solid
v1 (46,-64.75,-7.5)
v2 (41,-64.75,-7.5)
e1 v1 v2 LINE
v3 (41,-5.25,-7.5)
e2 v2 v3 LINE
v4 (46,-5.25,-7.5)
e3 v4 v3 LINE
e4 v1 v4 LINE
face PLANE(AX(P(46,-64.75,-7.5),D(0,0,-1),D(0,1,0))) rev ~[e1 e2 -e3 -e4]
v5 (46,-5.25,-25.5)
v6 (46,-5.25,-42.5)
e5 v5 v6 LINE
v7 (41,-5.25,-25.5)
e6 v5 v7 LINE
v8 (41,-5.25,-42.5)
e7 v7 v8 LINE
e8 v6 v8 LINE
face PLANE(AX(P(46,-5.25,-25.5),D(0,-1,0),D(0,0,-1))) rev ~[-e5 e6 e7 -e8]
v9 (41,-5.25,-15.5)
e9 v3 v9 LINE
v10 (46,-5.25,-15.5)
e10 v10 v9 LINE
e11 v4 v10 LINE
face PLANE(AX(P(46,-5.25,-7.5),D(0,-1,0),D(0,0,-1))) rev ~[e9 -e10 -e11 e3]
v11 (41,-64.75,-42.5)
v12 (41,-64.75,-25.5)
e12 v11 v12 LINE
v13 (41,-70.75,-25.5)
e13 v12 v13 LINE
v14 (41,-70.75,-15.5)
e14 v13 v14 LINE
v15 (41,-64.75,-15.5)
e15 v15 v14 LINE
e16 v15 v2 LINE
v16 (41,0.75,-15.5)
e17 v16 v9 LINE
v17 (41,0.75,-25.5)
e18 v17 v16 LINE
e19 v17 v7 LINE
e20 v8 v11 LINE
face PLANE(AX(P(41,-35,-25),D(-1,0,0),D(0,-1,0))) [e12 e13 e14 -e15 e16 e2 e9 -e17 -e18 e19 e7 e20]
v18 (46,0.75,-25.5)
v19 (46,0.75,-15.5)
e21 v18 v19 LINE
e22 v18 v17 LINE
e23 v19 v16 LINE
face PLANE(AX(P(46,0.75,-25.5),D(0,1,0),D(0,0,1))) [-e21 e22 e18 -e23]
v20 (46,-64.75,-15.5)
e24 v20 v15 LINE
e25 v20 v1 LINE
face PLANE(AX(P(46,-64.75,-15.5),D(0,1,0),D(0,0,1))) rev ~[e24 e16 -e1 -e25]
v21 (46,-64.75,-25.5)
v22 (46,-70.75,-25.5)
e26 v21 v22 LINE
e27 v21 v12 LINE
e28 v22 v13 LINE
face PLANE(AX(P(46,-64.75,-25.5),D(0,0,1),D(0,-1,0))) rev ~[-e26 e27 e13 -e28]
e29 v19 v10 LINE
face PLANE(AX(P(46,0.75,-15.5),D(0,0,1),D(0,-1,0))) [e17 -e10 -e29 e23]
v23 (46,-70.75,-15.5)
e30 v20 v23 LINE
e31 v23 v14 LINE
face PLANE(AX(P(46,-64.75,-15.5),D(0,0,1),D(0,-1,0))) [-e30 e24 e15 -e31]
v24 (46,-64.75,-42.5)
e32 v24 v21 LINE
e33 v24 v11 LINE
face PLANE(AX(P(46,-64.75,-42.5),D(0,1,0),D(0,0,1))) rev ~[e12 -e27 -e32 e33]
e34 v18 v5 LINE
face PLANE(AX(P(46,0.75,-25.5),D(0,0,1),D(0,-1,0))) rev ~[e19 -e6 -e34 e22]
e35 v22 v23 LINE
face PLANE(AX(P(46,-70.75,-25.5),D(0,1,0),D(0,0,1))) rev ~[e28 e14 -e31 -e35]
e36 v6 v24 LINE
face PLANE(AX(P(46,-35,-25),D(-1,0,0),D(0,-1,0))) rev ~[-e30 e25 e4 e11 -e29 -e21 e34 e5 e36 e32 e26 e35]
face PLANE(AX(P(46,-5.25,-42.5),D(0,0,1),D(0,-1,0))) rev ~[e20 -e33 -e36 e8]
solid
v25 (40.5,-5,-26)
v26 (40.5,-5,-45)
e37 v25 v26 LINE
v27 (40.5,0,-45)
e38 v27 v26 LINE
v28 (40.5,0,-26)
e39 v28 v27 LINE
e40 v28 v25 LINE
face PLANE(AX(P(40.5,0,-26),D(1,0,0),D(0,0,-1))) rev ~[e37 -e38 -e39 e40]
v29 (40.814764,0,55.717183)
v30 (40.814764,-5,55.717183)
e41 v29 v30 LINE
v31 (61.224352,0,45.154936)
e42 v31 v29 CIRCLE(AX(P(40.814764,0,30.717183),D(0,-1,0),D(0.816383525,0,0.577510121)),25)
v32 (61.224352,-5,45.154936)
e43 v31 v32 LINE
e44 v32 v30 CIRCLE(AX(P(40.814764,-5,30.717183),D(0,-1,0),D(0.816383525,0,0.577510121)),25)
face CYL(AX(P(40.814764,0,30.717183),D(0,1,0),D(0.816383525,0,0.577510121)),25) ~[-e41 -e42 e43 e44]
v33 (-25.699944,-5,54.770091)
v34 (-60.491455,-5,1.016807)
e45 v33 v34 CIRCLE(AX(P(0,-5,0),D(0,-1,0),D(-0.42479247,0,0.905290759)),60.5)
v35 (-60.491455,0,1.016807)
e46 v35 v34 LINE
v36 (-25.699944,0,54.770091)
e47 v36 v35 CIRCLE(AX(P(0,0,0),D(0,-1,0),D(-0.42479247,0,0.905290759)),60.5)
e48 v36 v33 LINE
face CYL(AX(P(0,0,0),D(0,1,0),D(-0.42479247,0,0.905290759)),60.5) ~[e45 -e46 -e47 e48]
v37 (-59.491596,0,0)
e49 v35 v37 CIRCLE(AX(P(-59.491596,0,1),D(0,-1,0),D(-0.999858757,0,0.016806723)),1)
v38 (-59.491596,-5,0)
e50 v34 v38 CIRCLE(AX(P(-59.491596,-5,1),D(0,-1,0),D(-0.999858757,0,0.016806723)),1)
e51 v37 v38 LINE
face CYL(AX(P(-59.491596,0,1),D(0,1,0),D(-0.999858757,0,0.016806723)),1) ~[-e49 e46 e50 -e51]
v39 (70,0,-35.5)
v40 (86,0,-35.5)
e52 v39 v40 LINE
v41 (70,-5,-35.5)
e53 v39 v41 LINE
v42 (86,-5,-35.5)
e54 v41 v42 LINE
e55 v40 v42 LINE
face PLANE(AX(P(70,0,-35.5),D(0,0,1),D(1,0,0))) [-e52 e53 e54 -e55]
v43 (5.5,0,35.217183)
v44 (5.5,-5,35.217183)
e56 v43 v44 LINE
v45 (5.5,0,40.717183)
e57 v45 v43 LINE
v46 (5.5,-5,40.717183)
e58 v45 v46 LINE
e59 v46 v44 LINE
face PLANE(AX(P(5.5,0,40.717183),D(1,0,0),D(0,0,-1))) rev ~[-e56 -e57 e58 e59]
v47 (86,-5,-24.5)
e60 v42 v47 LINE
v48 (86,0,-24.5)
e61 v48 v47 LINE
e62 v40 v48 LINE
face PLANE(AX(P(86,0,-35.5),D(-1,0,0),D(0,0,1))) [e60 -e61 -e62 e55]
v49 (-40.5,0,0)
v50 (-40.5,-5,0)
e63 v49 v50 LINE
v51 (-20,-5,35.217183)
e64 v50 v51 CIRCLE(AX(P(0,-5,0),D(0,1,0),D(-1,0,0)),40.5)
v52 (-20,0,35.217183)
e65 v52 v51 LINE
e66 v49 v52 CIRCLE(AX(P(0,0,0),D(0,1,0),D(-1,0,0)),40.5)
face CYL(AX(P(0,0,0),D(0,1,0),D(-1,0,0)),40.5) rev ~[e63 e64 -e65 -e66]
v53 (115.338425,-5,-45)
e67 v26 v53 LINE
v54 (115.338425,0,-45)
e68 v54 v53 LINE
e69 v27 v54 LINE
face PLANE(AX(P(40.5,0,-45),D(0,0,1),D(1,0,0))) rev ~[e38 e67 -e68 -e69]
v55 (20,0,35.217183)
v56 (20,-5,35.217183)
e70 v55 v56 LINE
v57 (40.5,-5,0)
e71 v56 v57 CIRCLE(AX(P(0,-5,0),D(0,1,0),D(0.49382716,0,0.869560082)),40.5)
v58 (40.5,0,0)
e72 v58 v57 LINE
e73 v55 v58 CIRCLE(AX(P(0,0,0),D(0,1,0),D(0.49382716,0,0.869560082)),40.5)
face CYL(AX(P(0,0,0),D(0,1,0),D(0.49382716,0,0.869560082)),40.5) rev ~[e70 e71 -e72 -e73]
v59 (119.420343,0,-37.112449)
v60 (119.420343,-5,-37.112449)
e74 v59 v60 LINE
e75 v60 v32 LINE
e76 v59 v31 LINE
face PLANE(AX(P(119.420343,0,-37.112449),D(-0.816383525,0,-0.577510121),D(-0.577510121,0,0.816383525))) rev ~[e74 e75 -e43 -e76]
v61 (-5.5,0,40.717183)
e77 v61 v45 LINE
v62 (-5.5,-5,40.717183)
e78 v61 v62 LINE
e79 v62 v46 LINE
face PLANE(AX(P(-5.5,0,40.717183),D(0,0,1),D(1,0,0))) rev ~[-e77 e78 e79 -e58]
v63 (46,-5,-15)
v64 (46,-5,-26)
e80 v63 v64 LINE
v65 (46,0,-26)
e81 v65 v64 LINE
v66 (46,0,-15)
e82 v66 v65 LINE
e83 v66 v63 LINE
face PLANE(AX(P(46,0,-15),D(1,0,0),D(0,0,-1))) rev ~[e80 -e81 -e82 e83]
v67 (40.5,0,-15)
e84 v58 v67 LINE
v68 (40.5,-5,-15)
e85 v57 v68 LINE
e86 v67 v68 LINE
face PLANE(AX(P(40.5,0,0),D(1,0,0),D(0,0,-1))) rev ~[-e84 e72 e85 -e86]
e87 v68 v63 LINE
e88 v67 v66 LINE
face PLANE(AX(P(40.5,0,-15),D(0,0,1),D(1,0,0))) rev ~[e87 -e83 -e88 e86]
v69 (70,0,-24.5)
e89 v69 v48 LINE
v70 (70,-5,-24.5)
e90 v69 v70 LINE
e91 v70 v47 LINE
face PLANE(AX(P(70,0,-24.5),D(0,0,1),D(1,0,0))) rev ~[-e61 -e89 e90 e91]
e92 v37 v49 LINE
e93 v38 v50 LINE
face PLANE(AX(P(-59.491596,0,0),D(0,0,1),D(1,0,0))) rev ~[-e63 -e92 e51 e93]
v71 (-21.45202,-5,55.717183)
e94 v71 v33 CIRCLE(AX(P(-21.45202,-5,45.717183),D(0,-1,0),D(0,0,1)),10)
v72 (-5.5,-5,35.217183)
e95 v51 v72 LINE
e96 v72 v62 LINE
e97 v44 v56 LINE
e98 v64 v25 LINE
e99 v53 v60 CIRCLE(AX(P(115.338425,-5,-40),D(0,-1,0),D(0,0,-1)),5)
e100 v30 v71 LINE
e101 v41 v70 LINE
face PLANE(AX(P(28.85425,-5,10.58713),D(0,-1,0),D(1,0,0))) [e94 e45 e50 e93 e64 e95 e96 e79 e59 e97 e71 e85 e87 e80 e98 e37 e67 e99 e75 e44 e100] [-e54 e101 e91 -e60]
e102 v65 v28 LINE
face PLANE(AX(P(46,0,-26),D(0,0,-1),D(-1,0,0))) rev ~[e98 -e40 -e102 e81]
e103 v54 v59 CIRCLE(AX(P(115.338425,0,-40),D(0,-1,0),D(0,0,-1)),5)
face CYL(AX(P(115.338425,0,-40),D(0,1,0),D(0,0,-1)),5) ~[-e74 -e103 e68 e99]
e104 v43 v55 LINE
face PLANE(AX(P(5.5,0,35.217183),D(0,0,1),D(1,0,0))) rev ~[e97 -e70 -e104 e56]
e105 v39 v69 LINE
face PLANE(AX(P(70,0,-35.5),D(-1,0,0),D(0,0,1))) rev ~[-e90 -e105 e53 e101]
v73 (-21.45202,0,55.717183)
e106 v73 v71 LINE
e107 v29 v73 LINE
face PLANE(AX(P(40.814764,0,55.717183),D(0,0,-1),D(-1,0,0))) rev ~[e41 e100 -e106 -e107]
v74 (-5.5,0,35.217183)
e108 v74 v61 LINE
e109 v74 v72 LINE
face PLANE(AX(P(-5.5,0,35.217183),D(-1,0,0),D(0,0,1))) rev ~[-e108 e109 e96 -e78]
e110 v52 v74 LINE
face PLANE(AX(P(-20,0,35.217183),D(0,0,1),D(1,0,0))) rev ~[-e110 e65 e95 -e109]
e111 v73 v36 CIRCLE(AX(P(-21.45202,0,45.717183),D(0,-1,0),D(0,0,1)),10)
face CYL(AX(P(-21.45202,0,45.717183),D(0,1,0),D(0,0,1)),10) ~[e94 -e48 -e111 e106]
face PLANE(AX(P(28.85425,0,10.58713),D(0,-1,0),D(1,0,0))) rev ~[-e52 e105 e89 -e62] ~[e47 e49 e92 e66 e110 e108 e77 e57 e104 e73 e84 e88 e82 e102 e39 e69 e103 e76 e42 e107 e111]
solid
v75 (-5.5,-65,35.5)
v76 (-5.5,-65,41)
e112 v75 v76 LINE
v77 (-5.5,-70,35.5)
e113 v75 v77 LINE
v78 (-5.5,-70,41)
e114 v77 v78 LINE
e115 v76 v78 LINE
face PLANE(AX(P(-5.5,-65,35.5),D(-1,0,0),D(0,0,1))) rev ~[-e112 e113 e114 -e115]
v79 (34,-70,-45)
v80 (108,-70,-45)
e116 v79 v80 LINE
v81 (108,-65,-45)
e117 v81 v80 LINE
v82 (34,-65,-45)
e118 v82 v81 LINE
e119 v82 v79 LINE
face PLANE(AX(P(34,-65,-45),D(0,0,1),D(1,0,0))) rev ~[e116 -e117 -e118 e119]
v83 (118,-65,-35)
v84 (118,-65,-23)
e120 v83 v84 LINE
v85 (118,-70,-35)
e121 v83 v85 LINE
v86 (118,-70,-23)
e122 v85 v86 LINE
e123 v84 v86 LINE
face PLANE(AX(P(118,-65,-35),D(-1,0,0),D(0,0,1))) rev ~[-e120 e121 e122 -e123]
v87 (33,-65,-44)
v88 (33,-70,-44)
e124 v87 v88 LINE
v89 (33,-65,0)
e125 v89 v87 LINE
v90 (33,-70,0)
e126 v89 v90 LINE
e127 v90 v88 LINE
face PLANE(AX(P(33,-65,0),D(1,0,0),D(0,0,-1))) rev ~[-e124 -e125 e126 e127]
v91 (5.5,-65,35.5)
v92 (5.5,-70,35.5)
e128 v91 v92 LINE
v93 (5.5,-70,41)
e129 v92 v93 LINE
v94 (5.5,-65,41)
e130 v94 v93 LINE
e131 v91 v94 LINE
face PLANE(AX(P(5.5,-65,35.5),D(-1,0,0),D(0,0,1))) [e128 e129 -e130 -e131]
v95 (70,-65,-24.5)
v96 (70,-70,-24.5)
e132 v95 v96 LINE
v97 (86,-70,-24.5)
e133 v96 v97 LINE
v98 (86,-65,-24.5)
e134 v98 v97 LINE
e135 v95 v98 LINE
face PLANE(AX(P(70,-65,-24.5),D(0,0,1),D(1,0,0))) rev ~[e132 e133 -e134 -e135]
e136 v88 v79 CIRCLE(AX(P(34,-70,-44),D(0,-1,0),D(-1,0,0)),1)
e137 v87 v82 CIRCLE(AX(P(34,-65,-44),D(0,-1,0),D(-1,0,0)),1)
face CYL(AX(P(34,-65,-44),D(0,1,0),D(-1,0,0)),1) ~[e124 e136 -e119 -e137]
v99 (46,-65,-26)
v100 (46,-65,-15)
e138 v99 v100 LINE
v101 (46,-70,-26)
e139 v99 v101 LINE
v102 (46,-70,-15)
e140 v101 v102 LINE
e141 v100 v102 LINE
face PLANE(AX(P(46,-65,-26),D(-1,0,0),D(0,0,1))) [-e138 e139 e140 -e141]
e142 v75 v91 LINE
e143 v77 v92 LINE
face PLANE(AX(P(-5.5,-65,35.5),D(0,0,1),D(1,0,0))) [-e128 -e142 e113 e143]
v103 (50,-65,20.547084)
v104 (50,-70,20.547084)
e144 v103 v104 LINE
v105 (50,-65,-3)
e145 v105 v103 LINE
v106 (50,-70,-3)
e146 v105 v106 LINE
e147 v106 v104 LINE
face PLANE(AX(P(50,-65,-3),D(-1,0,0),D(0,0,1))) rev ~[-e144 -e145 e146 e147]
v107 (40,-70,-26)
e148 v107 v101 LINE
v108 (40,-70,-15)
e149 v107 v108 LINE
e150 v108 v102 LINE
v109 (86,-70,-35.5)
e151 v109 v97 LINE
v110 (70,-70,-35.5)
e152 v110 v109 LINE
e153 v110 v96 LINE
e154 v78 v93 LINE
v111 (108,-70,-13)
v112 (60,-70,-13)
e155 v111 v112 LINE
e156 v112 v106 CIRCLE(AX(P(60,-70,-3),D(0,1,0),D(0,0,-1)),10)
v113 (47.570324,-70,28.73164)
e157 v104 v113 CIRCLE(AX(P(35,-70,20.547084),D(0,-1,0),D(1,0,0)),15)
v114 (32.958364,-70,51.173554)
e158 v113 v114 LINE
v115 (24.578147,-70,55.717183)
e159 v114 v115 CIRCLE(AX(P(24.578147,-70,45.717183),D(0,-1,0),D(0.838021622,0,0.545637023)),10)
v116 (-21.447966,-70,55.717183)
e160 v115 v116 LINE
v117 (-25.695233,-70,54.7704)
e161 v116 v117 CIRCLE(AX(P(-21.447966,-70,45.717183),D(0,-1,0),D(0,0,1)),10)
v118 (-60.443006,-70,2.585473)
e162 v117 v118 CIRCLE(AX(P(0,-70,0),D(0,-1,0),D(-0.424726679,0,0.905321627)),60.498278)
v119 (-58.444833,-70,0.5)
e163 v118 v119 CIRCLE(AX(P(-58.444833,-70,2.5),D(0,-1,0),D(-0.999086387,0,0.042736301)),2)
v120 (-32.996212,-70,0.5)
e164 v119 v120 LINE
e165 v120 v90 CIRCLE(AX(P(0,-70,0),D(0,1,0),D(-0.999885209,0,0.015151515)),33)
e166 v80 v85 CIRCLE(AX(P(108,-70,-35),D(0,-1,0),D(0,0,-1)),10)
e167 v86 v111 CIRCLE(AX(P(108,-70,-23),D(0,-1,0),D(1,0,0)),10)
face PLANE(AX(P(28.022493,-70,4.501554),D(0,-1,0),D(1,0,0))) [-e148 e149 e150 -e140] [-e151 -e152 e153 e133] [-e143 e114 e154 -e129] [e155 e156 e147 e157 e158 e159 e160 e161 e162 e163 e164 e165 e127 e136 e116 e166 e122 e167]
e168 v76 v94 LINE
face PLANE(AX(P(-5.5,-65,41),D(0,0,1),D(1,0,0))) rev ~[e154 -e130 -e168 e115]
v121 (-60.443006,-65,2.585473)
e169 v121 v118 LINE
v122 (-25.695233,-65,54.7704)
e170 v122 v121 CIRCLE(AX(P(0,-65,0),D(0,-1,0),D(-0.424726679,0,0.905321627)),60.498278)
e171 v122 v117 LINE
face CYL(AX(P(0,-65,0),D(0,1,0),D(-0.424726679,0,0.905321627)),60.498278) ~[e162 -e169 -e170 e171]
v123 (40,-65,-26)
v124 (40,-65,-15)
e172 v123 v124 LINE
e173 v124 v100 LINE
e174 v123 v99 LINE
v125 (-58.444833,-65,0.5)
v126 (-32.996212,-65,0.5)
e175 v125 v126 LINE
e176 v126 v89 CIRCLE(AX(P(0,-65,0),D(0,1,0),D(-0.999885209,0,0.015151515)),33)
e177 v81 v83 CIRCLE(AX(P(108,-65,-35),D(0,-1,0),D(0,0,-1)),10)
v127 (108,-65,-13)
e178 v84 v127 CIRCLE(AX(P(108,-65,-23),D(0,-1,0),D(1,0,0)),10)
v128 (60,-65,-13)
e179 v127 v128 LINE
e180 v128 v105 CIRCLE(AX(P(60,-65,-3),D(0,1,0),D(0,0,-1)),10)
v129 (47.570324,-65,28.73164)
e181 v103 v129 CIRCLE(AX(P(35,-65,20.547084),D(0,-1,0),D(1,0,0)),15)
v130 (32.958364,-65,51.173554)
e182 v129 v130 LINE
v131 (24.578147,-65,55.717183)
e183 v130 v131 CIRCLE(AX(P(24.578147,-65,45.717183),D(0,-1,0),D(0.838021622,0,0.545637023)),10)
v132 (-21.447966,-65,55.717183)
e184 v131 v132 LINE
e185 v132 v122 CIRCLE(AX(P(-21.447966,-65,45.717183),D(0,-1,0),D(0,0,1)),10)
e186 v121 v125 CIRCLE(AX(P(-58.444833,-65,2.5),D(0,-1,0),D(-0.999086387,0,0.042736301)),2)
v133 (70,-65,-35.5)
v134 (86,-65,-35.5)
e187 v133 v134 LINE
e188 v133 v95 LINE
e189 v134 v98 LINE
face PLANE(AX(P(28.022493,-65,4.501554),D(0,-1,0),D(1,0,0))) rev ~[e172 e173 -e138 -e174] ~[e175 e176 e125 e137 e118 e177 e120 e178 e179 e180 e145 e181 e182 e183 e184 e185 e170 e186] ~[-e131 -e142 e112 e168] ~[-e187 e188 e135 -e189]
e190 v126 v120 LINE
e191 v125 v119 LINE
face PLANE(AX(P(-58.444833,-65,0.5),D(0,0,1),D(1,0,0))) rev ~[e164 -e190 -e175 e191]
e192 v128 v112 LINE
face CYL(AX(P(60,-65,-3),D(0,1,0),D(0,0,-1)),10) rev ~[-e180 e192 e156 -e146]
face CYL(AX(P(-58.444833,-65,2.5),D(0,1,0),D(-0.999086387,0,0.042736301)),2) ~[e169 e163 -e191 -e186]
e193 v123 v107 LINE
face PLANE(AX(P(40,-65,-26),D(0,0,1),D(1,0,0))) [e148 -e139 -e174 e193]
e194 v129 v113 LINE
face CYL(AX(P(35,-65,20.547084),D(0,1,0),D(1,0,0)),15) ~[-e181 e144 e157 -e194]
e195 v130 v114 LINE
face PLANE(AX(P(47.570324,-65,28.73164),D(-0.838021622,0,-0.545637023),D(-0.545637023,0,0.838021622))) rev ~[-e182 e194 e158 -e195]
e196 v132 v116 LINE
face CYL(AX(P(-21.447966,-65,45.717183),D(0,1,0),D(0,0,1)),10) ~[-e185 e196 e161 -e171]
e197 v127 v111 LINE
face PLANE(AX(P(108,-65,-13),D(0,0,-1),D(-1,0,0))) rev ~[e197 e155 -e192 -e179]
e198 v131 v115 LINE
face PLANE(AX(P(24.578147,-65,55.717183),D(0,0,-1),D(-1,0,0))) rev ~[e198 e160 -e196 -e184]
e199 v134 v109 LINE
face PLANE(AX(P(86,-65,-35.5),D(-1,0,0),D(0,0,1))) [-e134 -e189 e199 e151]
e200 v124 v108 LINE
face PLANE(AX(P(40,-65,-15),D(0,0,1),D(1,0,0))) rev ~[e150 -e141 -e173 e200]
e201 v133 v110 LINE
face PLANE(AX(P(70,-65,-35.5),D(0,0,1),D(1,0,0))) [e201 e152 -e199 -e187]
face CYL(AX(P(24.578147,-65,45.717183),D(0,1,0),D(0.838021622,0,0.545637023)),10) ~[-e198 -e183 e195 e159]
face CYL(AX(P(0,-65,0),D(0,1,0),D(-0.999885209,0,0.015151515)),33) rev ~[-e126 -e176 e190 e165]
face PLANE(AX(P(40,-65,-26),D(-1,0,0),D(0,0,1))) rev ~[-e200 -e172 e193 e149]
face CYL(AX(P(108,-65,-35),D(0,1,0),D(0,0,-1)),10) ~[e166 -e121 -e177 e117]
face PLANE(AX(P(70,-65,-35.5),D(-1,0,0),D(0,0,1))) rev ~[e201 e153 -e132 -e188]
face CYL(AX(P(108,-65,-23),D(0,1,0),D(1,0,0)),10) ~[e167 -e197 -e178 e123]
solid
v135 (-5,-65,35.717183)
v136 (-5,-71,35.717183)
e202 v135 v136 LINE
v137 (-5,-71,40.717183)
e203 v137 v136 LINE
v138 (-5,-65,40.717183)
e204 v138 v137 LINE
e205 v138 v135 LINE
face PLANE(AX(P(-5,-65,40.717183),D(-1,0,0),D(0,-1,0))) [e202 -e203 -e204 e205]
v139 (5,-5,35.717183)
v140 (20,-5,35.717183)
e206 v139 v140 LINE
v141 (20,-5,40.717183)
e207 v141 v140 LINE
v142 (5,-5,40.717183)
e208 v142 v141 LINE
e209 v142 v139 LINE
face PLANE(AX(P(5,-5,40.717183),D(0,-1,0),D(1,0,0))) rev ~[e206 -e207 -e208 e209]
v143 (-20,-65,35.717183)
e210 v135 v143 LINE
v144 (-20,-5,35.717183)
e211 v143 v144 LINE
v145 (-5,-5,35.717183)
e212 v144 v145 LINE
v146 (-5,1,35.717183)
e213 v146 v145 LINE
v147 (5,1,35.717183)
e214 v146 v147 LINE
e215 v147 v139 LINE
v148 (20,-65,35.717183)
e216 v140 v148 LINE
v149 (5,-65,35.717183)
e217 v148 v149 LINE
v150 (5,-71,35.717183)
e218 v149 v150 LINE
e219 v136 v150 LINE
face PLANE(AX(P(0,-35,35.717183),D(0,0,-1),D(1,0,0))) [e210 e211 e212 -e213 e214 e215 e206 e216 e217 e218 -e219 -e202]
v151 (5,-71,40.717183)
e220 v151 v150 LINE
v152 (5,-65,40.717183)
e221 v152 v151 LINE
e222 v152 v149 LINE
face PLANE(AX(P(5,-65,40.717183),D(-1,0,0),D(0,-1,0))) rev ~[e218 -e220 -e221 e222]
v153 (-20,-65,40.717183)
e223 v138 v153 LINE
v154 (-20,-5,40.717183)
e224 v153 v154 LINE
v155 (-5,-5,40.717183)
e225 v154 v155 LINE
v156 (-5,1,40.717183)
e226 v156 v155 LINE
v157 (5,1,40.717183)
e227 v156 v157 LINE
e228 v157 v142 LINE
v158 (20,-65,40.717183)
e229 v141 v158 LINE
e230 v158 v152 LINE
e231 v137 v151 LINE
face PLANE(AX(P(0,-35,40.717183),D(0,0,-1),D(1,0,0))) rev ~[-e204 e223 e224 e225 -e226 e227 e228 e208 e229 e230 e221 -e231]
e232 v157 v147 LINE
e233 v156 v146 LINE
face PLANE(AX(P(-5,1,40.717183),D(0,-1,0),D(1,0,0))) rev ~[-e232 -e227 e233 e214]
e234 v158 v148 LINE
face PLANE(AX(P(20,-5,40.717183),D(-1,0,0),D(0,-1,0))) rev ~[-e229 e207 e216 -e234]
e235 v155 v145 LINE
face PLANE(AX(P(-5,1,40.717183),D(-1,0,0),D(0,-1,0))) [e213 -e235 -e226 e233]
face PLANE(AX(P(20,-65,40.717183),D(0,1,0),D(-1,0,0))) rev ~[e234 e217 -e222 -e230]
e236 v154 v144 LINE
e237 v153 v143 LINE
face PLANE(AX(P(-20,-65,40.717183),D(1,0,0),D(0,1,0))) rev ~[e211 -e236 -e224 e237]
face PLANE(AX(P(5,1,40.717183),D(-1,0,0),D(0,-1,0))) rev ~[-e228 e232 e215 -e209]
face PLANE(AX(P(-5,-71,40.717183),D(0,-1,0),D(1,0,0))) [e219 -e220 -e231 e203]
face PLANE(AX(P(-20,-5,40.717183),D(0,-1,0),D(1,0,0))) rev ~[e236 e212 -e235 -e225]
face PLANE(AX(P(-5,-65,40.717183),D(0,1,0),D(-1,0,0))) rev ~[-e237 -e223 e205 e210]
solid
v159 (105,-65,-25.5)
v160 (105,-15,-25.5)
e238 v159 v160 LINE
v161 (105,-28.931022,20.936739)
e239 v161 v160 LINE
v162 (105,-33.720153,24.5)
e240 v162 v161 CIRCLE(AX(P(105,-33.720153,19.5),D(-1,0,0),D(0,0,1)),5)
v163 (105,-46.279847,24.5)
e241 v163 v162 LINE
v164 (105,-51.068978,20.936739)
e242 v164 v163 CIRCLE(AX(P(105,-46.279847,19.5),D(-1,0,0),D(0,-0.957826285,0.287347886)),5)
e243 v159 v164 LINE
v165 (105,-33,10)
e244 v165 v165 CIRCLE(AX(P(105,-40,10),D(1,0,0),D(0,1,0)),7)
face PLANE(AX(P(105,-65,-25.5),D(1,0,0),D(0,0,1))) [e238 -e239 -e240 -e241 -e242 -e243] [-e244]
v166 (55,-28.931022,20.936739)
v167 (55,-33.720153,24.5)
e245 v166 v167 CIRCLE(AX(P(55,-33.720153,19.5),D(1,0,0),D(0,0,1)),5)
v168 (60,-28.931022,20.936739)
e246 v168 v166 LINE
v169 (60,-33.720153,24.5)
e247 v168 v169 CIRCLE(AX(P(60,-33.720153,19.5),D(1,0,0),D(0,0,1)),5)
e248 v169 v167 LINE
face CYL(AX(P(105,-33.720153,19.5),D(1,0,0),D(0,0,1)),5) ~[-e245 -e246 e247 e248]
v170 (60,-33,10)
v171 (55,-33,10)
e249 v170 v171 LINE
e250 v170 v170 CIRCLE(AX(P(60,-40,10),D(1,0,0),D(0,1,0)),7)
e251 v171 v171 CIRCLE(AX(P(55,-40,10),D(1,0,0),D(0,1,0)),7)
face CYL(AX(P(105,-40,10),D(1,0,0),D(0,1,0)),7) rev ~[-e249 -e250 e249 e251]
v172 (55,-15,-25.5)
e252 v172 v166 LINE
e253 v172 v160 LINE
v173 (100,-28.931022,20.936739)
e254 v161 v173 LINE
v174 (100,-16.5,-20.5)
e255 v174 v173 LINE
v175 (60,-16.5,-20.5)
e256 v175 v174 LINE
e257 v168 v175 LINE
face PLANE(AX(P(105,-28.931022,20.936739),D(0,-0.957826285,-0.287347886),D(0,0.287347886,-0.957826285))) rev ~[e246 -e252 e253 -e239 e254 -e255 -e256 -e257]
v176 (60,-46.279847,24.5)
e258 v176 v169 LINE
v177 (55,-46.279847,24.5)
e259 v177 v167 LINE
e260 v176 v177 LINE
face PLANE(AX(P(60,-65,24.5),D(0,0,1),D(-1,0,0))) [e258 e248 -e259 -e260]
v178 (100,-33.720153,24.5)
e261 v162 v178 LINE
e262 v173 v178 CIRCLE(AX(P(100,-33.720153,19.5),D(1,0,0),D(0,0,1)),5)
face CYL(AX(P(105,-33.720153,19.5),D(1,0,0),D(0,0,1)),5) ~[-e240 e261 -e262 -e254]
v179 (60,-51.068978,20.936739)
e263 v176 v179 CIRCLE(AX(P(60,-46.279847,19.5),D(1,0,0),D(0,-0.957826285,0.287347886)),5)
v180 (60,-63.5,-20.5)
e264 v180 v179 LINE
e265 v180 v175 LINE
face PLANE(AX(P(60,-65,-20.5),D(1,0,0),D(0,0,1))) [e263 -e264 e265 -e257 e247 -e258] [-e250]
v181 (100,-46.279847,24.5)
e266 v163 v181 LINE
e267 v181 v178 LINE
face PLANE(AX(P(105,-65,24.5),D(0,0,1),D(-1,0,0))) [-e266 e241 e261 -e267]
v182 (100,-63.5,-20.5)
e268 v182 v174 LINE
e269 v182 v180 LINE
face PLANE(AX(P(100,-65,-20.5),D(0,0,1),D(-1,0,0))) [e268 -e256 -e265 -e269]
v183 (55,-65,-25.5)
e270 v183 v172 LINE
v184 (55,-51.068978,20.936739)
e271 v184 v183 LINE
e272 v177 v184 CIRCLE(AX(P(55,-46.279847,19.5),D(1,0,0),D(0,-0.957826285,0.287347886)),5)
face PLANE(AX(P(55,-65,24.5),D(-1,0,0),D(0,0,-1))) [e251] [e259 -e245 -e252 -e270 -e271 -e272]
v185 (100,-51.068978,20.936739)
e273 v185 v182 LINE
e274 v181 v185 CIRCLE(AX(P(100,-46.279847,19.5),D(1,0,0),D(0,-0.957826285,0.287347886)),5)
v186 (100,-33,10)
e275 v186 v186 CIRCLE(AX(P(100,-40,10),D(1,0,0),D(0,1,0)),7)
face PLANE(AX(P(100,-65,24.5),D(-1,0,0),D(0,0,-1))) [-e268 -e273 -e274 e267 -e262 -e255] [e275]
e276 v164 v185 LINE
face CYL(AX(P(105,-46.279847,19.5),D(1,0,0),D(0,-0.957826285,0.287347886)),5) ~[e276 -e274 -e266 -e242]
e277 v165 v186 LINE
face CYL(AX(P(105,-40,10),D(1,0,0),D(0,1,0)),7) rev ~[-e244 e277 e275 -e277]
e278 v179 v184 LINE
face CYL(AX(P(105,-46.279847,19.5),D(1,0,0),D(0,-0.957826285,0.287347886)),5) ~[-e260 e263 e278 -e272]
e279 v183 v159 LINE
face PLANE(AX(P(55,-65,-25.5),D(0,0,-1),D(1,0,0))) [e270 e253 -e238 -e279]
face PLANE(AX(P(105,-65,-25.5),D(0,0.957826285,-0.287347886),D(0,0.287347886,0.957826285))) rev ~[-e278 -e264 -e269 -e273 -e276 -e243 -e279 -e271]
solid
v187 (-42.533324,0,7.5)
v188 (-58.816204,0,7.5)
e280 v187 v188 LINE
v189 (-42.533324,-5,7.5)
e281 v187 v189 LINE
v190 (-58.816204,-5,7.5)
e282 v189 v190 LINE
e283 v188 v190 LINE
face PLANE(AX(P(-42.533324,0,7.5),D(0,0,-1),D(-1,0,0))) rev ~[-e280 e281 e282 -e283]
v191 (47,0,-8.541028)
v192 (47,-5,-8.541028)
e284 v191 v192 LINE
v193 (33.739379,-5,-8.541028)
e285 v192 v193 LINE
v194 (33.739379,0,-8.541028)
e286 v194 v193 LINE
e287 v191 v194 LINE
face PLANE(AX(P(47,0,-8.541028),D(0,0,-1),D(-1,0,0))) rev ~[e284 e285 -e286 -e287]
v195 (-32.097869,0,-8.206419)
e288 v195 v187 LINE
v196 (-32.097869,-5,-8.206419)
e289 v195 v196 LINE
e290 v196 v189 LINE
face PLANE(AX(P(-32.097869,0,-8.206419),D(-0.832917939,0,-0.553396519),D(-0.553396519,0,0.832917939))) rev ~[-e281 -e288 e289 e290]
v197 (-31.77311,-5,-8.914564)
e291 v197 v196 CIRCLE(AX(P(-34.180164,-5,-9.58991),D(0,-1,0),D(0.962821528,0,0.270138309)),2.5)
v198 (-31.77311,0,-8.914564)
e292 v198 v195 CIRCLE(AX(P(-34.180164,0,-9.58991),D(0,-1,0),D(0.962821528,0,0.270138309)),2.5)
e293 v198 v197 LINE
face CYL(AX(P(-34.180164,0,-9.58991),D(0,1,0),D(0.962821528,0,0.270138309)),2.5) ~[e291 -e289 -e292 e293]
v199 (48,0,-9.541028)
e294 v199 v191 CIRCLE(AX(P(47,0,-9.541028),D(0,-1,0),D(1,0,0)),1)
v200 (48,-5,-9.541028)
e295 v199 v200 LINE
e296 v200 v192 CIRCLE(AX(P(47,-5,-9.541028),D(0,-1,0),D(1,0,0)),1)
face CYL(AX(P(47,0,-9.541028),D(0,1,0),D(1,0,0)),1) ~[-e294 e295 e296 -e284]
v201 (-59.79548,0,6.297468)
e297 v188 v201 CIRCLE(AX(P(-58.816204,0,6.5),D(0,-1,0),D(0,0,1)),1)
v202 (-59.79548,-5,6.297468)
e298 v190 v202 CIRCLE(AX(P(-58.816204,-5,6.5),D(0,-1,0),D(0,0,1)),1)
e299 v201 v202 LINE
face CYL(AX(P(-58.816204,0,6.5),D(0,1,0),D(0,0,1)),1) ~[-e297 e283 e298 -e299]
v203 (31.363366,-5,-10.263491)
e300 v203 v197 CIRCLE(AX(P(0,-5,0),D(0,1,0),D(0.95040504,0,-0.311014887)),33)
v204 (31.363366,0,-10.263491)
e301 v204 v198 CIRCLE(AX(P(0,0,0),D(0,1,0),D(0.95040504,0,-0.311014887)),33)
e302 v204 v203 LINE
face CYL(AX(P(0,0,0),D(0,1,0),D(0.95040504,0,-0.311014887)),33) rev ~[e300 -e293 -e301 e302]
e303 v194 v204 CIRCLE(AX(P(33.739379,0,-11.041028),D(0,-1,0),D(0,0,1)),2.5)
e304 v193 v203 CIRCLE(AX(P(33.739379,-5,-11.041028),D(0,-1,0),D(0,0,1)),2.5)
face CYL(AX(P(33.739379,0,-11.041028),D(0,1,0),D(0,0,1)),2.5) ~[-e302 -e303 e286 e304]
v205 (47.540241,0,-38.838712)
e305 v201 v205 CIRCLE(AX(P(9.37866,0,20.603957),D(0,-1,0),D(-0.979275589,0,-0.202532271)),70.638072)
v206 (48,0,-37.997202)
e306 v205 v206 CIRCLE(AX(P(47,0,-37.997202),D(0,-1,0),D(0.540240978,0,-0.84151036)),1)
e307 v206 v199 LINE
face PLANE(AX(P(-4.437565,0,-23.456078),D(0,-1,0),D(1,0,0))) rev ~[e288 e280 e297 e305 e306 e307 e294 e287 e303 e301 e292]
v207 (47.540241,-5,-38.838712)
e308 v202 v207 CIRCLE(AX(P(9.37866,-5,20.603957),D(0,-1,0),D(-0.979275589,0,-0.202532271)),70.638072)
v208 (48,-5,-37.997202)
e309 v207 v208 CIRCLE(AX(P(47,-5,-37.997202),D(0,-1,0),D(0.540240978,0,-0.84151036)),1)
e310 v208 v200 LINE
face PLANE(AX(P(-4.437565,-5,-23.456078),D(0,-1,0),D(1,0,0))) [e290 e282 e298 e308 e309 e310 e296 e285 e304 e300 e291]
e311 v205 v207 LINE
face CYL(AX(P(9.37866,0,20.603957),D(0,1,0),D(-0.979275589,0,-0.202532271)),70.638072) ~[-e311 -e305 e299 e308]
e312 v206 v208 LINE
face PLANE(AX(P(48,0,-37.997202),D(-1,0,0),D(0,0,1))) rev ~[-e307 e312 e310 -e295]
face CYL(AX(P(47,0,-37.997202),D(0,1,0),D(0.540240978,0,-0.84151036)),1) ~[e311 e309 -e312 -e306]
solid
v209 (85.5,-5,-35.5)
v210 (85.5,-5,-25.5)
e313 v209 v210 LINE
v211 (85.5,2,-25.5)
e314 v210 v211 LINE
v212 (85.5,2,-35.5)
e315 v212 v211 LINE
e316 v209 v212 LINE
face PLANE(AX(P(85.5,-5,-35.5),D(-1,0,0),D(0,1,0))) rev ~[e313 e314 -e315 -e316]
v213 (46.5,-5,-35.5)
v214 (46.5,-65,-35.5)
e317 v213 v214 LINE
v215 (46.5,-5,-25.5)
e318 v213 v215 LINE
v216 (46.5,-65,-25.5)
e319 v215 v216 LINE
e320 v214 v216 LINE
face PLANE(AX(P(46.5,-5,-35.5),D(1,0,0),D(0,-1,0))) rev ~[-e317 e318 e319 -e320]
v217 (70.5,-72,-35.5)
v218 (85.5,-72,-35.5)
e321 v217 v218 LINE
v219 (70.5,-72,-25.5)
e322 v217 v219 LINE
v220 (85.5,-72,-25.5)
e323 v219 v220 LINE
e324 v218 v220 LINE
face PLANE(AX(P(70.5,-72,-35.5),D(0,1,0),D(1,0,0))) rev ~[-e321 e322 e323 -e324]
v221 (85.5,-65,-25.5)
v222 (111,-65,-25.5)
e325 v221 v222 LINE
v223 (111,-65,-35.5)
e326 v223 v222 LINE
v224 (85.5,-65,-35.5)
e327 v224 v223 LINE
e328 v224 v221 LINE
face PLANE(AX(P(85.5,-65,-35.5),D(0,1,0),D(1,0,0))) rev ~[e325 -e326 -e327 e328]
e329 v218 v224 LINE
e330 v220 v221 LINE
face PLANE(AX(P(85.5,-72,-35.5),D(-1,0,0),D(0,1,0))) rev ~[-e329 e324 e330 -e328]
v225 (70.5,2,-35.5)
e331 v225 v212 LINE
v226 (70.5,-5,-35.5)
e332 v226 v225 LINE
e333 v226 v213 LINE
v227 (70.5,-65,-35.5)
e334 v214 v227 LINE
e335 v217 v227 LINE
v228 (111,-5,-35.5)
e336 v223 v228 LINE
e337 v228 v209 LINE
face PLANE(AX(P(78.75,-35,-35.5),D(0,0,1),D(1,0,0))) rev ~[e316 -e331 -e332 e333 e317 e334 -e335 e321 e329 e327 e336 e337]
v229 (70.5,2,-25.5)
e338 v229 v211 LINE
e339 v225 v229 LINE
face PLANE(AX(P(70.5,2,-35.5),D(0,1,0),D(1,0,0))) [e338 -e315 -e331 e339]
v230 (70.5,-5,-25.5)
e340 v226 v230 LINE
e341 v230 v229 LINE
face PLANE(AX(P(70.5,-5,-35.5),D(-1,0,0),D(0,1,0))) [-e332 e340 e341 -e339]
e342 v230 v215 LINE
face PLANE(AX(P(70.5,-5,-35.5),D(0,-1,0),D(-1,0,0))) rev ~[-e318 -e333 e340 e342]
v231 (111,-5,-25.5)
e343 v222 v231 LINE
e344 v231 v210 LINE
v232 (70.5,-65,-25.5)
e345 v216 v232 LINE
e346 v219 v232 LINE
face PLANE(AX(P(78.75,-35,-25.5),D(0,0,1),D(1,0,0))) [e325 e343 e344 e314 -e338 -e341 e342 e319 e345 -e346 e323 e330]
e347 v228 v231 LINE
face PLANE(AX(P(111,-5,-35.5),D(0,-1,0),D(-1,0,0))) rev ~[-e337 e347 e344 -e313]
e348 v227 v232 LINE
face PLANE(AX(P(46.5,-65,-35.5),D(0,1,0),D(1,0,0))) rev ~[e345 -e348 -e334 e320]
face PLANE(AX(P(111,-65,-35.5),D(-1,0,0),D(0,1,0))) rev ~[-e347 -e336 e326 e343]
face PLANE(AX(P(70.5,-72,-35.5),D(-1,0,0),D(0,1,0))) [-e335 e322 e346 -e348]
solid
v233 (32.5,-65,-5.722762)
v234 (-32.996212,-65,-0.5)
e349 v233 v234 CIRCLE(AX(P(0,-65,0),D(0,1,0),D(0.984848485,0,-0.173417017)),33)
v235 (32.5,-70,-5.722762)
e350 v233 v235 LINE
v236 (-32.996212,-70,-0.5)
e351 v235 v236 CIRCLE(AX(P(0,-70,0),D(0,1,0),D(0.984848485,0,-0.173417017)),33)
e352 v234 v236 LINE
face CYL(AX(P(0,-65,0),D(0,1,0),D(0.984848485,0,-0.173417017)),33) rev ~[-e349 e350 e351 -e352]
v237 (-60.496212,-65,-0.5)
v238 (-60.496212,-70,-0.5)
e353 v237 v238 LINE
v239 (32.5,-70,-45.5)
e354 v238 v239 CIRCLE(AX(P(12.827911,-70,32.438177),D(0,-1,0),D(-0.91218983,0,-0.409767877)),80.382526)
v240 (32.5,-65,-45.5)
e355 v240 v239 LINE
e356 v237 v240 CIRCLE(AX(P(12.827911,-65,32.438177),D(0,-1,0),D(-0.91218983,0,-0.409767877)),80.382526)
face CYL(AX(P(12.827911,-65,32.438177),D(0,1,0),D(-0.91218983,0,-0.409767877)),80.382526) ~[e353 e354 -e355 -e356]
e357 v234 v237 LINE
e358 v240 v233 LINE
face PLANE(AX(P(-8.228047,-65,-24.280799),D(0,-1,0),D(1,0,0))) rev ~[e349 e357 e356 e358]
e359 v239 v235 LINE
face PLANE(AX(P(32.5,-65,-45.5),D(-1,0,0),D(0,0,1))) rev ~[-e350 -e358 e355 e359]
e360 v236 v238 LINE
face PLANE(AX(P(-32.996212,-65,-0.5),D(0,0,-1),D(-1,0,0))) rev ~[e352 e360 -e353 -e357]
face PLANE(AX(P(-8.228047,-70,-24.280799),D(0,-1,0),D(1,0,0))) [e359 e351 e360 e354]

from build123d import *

# Parameters (mm, degrees)
F0_W      = 16
F0_H      = 11
F1_DEPTH  = 5
F3_DEPTH  = 5
F4_W      = 15
F4_H      = 7
F5_DEPTH  = 10
F7_DEPTH  = 50
F8_R      = 7
F9_DEPTH  = 602
F10_W     = 16
F10_H     = 11
F10_W_2   = 6
F10_W_3   = 11
F10_H_2   = 5.5
F11_DEPTH = 5
F12_W     = 10
F12_H     = 6
F13_DEPTH = 5
F14_W     = 6
F14_H     = 10
F15_DEPTH = 5


with BuildPart() as f1:
    # F0 (on Front) → F1 (new body)
    with BuildSketch(Plane.XZ):
        with BuildLine():
            ThreePointArc((-40.5, 0), (-35.0017856687, 20.3746165608), (-20, 35.2171833059))
            Line((-20, 35.2171833059), (-5.5, 35.2171833059))
            Line((-5.5, 35.2171833059), (-5.5, 40.7171833059))
            Line((-5.5, 40.7171833059), (5.5, 40.7171833059))
            Line((5.5, 40.7171833059), (5.5, 35.2171833059))
            Line((5.5, 35.2171833059), (20, 35.2171833059))
            ThreePointArc((20, 35.2171833059), (35.0017856687, 20.3746165608), (40.5, 0))
            Line((40.5, 0), (40.5, -15))
            Line((40.5, -15), (46, -15))
            Line((46, -15), (46, -26))
            Line((46, -26), (40.5, -26))
            Line((40.5, -26), (40.5, -45))
            Line((40.5, -45), (115.3384250636, -45))
            ThreePointArc((115.3384250636, -45), (119.7790192257, -42.2980695132), (119.4203426893, -37.1124493949))
            Line((119.4203426893, -37.1124493949), (61.2243521745, 45.1549363311))
            ThreePointArc((61.2243521745, 45.1549363311), (52.3051116117, 52.9201541165), (40.8147640458, 55.7171833059))
            Line((40.8147640458, 55.7171833059), (-21.4520197319, 55.7171833059))
            ThreePointArc((-21.4520197319, 55.7171833059), (-23.6281314187, 55.477538726), (-25.6999444312, 54.7700908912))
            ThreePointArc((-25.6999444312, 54.7700908912), (-50.7896959548, 32.8733445944), (-60.4914548022, 1.0168067227))
            ThreePointArc((-60.4914548022, 1.0168067227), (-60.2046201411, 0.2988604713), (-59.4915960452, 0))
            Line((-59.4915960452, 0), (-40.5, 0))
        make_face()
        with Locations((78, -30)):
            Rectangle(F0_W, F0_H, mode=Mode.SUBTRACT)
    extrude(amount=F1_DEPTH)


with BuildPart() as f3:
    # F2 (on Front) → F3 (new body)
    with BuildSketch(Plane.XZ):
        with BuildLine():
            ThreePointArc((31.3633663202, -10.2634912709), (-0.7048926371, -32.9924707527), (-31.7731104155, -8.9145641802))
            ThreePointArc((-31.7731104155, -8.9145641802), (-31.9077359339, -8.5477633127), (-32.0978693881, -8.2064186537))
            Line((-32.0978693881, -8.2064186537), (-42.5333240792, 7.5))
            Line((-42.5333240792, 7.5), (-58.8162039998, 7.5))
            ThreePointArc((-58.8162039998, 7.5), (-59.5916175254, 7.1314537705), (-59.7954795887, 6.2974677287))
            ThreePointArc((-59.7954795887, 6.2974677287), (-18.0031476506, -44.5111244838), (47.5402409783, -38.8387124322))
            ThreePointArc((47.5402409783, -38.8387124322), (47.8775650911, -38.4766595898), (48, -37.9972020725))
            Line((48, -37.9972020725), (48, -9.5410284884))
            ThreePointArc((48, -9.5410284884), (47.7071067812, -8.8339217072), (47, -8.5410284884))
            Line((47, -8.5410284884), (33.7393789202, -8.5410284884))
            ThreePointArc((33.7393789202, -8.5410284884), (32.2720417135, -9.016943134), (31.3633663202, -10.2634912709))
        make_face()
    extrude(amount=F3_DEPTH)


with BuildPart() as f5:
    # F4 (on face) → F5 (new body)
    with BuildSketch(Plane.XY.offset(-35.5)):
        Polygon((70.5, -5), (46.5, -5), (46.5, -65), (70.5, -65), (85.5, -65), (111, -65), (111, -5), (85.5, -5), align=None)
        with Locations((78, -1.5)):
            Rectangle(F4_W, F4_H)
        with Locations((78, -68.5)):
            Rectangle(F4_W, F4_H)
    extrude(amount=F5_DEPTH)


with BuildPart() as f7:
    # F6 (on face) → F7 (new body)
    with BuildSketch(Plane.XZ.offset(65)):
        Polygon((60, -20.5), (60, 24.5), (55, 24.5), (55, -25.5), (105, -25.5), (105, 24.5), (100, 24.5), (100, -20.5), align=None)
    extrude(amount=-F7_DEPTH)

    # F8 (on face) → F9 (cut)
    with BuildSketch(Plane.YZ.offset(105)):
        with Locations((-40, 10)):
            Circle(F8_R)
        with BuildLine():
            Line((-15, 24.5), (-33.7201532545, 24.5))
            ThreePointArc((-33.7201532545, 24.5), (-30.7355006063, 23.5114646414), (-28.9310218283, 20.9367394278))
            Line((-28.9310218283, 20.9367394278), (-15, -25.5))
            Line((-15, -25.5), (-15, 24.5))
        make_face()
        with BuildLine():
            ThreePointArc((-51.0689781717, 20.9367394278), (-49.2644993937, 23.5114646414), (-46.2798467455, 24.5))
            Line((-46.2798467455, 24.5), (-65, 24.5))
            Line((-65, 24.5), (-65, -25.5))
            Line((-65, -25.5), (-51.0689781717, 20.9367394278))
        make_face()
    extrude(amount=-F9_DEPTH, mode=Mode.SUBTRACT)


with BuildPart() as f11:
    # F10 (on face) → F11 (new body)
    with BuildSketch(Plane.XZ.offset(65)):
        with BuildLine():
            ThreePointArc((-32.9962119038, 0.5), (0.2500071747, 32.9990529624), (33, 0))
            Line((33, 0), (33, -44))
            ThreePointArc((33, -44), (33.2928932188, -44.7071067812), (34, -45))
            Line((34, -45), (108, -45))
            ThreePointArc((108, -45), (115.0710678119, -42.0710678119), (118, -35))
            Line((118, -35), (118, -23))
            ThreePointArc((118, -23), (115.0710678119, -15.9289321881), (108, -13))
            Line((108, -13), (60, -13))
            ThreePointArc((60, -13), (52.9289321881, -10.0710678119), (50, -3))
            Line((50, -3), (50, 0.018009717))
            Line((50, 0.018009717), (50, 20.5470842988))
            ThreePointArc((50, 20.5470842988), (49.3797577347, 24.8158742319), (47.5703243343, 28.7316396398))
            Line((47.5703243343, 28.7316396398), (32.9583635501, 51.1735535332))
            ThreePointArc((32.9583635501, 51.1735535332), (29.3445032584, 54.5081929826), (24.5781473272, 55.7171833059))
            Line((24.5781473272, 55.7171833059), (-21.4479659412, 55.7171833059))
            ThreePointArc((-21.4479659412, 55.7171833059), (-23.6237229696, 55.4776177918), (-25.6952327278, 54.7703995766))
            ThreePointArc((-25.6952327278, 54.7703995766), (-50.3563868625, 33.5302245275), (-60.4430060978, 2.5854726013))
            ThreePointArc((-60.4430060978, 2.5854726013), (-59.8889498708, 1.116335518), (-58.4448333239, 0.5))
            Line((-58.4448333239, 0.5), (-32.9962119038, 0.5))
        make_face()
        with Locations((78, -30)):
            Rectangle(F10_W, F10_H, mode=Mode.SUBTRACT)
        with Locations((43, -20.5)):
            Rectangle(F10_W_2, F10_H, mode=Mode.SUBTRACT)
        with Locations((0, 38.25)):
            Rectangle(F10_W_3, F10_H_2, mode=Mode.SUBTRACT)
    extrude(amount=F11_DEPTH)


with BuildPart() as f11b:
    # F10 (on face) → F11, piece 2 (new body)
    with BuildSketch(Plane.XZ.offset(65)):
        with BuildLine():
            ThreePointArc((32.5, -5.7227615711), (-2.6231405167, -32.8955792445), (-32.9962119038, -0.5))
            Line((-32.9962119038, -0.5), (-60.4962119038, -0.5))
            ThreePointArc((-60.4962119038, -0.5), (-22.1847321825, -39.9183383937), (32.5, -45.5))
            Line((32.5, -45.5), (32.5, -5.7227615711))
        make_face()
    extrude(amount=F11_DEPTH)


with BuildPart() as f13:
    # F12 (on face) → F13 (new body)
    with BuildSketch(Plane(origin=(0, 0, 40.7171833059), x_dir=(1, 0, 0), z_dir=(0, 0, -1))):
        Polygon((-20, 65), (-20, 5), (-5, 5), (5, 5), (20, 5), (20, 65), (5, 65), (-5, 65), align=None)
        with Locations((0, 2)):
            Rectangle(F12_W, F12_H)
        with Locations((0, 68)):
            Rectangle(F12_W, F12_H)
    extrude(amount=F13_DEPTH)


with BuildPart() as f15:
    # F14 (on face) → F15 (new body)
    with BuildSketch(Plane(origin=(46, 0, 0), x_dir=(0, -1, 0), z_dir=(-1, 0, 0))):
        Polygon((64.75, -7.5), (5.25, -7.5), (5.25, -15.5), (5.25, -25.5), (5.25, -42.5), (64.75, -42.5), (64.75, -26), (64.75, -25.5), (64.75, -15.5), align=None)
        with Locations((2.25, -20.5)):
            Rectangle(F14_W, F14_H)
        with Locations((67.75, -20.5)):
            Rectangle(F14_W, F14_H)
    extrude(amount=F15_DEPTH)


solid = Compound([f1.part, f3.part, f5.part, f7.part, f11.part, f11b.part, f13.part, f15.part])
